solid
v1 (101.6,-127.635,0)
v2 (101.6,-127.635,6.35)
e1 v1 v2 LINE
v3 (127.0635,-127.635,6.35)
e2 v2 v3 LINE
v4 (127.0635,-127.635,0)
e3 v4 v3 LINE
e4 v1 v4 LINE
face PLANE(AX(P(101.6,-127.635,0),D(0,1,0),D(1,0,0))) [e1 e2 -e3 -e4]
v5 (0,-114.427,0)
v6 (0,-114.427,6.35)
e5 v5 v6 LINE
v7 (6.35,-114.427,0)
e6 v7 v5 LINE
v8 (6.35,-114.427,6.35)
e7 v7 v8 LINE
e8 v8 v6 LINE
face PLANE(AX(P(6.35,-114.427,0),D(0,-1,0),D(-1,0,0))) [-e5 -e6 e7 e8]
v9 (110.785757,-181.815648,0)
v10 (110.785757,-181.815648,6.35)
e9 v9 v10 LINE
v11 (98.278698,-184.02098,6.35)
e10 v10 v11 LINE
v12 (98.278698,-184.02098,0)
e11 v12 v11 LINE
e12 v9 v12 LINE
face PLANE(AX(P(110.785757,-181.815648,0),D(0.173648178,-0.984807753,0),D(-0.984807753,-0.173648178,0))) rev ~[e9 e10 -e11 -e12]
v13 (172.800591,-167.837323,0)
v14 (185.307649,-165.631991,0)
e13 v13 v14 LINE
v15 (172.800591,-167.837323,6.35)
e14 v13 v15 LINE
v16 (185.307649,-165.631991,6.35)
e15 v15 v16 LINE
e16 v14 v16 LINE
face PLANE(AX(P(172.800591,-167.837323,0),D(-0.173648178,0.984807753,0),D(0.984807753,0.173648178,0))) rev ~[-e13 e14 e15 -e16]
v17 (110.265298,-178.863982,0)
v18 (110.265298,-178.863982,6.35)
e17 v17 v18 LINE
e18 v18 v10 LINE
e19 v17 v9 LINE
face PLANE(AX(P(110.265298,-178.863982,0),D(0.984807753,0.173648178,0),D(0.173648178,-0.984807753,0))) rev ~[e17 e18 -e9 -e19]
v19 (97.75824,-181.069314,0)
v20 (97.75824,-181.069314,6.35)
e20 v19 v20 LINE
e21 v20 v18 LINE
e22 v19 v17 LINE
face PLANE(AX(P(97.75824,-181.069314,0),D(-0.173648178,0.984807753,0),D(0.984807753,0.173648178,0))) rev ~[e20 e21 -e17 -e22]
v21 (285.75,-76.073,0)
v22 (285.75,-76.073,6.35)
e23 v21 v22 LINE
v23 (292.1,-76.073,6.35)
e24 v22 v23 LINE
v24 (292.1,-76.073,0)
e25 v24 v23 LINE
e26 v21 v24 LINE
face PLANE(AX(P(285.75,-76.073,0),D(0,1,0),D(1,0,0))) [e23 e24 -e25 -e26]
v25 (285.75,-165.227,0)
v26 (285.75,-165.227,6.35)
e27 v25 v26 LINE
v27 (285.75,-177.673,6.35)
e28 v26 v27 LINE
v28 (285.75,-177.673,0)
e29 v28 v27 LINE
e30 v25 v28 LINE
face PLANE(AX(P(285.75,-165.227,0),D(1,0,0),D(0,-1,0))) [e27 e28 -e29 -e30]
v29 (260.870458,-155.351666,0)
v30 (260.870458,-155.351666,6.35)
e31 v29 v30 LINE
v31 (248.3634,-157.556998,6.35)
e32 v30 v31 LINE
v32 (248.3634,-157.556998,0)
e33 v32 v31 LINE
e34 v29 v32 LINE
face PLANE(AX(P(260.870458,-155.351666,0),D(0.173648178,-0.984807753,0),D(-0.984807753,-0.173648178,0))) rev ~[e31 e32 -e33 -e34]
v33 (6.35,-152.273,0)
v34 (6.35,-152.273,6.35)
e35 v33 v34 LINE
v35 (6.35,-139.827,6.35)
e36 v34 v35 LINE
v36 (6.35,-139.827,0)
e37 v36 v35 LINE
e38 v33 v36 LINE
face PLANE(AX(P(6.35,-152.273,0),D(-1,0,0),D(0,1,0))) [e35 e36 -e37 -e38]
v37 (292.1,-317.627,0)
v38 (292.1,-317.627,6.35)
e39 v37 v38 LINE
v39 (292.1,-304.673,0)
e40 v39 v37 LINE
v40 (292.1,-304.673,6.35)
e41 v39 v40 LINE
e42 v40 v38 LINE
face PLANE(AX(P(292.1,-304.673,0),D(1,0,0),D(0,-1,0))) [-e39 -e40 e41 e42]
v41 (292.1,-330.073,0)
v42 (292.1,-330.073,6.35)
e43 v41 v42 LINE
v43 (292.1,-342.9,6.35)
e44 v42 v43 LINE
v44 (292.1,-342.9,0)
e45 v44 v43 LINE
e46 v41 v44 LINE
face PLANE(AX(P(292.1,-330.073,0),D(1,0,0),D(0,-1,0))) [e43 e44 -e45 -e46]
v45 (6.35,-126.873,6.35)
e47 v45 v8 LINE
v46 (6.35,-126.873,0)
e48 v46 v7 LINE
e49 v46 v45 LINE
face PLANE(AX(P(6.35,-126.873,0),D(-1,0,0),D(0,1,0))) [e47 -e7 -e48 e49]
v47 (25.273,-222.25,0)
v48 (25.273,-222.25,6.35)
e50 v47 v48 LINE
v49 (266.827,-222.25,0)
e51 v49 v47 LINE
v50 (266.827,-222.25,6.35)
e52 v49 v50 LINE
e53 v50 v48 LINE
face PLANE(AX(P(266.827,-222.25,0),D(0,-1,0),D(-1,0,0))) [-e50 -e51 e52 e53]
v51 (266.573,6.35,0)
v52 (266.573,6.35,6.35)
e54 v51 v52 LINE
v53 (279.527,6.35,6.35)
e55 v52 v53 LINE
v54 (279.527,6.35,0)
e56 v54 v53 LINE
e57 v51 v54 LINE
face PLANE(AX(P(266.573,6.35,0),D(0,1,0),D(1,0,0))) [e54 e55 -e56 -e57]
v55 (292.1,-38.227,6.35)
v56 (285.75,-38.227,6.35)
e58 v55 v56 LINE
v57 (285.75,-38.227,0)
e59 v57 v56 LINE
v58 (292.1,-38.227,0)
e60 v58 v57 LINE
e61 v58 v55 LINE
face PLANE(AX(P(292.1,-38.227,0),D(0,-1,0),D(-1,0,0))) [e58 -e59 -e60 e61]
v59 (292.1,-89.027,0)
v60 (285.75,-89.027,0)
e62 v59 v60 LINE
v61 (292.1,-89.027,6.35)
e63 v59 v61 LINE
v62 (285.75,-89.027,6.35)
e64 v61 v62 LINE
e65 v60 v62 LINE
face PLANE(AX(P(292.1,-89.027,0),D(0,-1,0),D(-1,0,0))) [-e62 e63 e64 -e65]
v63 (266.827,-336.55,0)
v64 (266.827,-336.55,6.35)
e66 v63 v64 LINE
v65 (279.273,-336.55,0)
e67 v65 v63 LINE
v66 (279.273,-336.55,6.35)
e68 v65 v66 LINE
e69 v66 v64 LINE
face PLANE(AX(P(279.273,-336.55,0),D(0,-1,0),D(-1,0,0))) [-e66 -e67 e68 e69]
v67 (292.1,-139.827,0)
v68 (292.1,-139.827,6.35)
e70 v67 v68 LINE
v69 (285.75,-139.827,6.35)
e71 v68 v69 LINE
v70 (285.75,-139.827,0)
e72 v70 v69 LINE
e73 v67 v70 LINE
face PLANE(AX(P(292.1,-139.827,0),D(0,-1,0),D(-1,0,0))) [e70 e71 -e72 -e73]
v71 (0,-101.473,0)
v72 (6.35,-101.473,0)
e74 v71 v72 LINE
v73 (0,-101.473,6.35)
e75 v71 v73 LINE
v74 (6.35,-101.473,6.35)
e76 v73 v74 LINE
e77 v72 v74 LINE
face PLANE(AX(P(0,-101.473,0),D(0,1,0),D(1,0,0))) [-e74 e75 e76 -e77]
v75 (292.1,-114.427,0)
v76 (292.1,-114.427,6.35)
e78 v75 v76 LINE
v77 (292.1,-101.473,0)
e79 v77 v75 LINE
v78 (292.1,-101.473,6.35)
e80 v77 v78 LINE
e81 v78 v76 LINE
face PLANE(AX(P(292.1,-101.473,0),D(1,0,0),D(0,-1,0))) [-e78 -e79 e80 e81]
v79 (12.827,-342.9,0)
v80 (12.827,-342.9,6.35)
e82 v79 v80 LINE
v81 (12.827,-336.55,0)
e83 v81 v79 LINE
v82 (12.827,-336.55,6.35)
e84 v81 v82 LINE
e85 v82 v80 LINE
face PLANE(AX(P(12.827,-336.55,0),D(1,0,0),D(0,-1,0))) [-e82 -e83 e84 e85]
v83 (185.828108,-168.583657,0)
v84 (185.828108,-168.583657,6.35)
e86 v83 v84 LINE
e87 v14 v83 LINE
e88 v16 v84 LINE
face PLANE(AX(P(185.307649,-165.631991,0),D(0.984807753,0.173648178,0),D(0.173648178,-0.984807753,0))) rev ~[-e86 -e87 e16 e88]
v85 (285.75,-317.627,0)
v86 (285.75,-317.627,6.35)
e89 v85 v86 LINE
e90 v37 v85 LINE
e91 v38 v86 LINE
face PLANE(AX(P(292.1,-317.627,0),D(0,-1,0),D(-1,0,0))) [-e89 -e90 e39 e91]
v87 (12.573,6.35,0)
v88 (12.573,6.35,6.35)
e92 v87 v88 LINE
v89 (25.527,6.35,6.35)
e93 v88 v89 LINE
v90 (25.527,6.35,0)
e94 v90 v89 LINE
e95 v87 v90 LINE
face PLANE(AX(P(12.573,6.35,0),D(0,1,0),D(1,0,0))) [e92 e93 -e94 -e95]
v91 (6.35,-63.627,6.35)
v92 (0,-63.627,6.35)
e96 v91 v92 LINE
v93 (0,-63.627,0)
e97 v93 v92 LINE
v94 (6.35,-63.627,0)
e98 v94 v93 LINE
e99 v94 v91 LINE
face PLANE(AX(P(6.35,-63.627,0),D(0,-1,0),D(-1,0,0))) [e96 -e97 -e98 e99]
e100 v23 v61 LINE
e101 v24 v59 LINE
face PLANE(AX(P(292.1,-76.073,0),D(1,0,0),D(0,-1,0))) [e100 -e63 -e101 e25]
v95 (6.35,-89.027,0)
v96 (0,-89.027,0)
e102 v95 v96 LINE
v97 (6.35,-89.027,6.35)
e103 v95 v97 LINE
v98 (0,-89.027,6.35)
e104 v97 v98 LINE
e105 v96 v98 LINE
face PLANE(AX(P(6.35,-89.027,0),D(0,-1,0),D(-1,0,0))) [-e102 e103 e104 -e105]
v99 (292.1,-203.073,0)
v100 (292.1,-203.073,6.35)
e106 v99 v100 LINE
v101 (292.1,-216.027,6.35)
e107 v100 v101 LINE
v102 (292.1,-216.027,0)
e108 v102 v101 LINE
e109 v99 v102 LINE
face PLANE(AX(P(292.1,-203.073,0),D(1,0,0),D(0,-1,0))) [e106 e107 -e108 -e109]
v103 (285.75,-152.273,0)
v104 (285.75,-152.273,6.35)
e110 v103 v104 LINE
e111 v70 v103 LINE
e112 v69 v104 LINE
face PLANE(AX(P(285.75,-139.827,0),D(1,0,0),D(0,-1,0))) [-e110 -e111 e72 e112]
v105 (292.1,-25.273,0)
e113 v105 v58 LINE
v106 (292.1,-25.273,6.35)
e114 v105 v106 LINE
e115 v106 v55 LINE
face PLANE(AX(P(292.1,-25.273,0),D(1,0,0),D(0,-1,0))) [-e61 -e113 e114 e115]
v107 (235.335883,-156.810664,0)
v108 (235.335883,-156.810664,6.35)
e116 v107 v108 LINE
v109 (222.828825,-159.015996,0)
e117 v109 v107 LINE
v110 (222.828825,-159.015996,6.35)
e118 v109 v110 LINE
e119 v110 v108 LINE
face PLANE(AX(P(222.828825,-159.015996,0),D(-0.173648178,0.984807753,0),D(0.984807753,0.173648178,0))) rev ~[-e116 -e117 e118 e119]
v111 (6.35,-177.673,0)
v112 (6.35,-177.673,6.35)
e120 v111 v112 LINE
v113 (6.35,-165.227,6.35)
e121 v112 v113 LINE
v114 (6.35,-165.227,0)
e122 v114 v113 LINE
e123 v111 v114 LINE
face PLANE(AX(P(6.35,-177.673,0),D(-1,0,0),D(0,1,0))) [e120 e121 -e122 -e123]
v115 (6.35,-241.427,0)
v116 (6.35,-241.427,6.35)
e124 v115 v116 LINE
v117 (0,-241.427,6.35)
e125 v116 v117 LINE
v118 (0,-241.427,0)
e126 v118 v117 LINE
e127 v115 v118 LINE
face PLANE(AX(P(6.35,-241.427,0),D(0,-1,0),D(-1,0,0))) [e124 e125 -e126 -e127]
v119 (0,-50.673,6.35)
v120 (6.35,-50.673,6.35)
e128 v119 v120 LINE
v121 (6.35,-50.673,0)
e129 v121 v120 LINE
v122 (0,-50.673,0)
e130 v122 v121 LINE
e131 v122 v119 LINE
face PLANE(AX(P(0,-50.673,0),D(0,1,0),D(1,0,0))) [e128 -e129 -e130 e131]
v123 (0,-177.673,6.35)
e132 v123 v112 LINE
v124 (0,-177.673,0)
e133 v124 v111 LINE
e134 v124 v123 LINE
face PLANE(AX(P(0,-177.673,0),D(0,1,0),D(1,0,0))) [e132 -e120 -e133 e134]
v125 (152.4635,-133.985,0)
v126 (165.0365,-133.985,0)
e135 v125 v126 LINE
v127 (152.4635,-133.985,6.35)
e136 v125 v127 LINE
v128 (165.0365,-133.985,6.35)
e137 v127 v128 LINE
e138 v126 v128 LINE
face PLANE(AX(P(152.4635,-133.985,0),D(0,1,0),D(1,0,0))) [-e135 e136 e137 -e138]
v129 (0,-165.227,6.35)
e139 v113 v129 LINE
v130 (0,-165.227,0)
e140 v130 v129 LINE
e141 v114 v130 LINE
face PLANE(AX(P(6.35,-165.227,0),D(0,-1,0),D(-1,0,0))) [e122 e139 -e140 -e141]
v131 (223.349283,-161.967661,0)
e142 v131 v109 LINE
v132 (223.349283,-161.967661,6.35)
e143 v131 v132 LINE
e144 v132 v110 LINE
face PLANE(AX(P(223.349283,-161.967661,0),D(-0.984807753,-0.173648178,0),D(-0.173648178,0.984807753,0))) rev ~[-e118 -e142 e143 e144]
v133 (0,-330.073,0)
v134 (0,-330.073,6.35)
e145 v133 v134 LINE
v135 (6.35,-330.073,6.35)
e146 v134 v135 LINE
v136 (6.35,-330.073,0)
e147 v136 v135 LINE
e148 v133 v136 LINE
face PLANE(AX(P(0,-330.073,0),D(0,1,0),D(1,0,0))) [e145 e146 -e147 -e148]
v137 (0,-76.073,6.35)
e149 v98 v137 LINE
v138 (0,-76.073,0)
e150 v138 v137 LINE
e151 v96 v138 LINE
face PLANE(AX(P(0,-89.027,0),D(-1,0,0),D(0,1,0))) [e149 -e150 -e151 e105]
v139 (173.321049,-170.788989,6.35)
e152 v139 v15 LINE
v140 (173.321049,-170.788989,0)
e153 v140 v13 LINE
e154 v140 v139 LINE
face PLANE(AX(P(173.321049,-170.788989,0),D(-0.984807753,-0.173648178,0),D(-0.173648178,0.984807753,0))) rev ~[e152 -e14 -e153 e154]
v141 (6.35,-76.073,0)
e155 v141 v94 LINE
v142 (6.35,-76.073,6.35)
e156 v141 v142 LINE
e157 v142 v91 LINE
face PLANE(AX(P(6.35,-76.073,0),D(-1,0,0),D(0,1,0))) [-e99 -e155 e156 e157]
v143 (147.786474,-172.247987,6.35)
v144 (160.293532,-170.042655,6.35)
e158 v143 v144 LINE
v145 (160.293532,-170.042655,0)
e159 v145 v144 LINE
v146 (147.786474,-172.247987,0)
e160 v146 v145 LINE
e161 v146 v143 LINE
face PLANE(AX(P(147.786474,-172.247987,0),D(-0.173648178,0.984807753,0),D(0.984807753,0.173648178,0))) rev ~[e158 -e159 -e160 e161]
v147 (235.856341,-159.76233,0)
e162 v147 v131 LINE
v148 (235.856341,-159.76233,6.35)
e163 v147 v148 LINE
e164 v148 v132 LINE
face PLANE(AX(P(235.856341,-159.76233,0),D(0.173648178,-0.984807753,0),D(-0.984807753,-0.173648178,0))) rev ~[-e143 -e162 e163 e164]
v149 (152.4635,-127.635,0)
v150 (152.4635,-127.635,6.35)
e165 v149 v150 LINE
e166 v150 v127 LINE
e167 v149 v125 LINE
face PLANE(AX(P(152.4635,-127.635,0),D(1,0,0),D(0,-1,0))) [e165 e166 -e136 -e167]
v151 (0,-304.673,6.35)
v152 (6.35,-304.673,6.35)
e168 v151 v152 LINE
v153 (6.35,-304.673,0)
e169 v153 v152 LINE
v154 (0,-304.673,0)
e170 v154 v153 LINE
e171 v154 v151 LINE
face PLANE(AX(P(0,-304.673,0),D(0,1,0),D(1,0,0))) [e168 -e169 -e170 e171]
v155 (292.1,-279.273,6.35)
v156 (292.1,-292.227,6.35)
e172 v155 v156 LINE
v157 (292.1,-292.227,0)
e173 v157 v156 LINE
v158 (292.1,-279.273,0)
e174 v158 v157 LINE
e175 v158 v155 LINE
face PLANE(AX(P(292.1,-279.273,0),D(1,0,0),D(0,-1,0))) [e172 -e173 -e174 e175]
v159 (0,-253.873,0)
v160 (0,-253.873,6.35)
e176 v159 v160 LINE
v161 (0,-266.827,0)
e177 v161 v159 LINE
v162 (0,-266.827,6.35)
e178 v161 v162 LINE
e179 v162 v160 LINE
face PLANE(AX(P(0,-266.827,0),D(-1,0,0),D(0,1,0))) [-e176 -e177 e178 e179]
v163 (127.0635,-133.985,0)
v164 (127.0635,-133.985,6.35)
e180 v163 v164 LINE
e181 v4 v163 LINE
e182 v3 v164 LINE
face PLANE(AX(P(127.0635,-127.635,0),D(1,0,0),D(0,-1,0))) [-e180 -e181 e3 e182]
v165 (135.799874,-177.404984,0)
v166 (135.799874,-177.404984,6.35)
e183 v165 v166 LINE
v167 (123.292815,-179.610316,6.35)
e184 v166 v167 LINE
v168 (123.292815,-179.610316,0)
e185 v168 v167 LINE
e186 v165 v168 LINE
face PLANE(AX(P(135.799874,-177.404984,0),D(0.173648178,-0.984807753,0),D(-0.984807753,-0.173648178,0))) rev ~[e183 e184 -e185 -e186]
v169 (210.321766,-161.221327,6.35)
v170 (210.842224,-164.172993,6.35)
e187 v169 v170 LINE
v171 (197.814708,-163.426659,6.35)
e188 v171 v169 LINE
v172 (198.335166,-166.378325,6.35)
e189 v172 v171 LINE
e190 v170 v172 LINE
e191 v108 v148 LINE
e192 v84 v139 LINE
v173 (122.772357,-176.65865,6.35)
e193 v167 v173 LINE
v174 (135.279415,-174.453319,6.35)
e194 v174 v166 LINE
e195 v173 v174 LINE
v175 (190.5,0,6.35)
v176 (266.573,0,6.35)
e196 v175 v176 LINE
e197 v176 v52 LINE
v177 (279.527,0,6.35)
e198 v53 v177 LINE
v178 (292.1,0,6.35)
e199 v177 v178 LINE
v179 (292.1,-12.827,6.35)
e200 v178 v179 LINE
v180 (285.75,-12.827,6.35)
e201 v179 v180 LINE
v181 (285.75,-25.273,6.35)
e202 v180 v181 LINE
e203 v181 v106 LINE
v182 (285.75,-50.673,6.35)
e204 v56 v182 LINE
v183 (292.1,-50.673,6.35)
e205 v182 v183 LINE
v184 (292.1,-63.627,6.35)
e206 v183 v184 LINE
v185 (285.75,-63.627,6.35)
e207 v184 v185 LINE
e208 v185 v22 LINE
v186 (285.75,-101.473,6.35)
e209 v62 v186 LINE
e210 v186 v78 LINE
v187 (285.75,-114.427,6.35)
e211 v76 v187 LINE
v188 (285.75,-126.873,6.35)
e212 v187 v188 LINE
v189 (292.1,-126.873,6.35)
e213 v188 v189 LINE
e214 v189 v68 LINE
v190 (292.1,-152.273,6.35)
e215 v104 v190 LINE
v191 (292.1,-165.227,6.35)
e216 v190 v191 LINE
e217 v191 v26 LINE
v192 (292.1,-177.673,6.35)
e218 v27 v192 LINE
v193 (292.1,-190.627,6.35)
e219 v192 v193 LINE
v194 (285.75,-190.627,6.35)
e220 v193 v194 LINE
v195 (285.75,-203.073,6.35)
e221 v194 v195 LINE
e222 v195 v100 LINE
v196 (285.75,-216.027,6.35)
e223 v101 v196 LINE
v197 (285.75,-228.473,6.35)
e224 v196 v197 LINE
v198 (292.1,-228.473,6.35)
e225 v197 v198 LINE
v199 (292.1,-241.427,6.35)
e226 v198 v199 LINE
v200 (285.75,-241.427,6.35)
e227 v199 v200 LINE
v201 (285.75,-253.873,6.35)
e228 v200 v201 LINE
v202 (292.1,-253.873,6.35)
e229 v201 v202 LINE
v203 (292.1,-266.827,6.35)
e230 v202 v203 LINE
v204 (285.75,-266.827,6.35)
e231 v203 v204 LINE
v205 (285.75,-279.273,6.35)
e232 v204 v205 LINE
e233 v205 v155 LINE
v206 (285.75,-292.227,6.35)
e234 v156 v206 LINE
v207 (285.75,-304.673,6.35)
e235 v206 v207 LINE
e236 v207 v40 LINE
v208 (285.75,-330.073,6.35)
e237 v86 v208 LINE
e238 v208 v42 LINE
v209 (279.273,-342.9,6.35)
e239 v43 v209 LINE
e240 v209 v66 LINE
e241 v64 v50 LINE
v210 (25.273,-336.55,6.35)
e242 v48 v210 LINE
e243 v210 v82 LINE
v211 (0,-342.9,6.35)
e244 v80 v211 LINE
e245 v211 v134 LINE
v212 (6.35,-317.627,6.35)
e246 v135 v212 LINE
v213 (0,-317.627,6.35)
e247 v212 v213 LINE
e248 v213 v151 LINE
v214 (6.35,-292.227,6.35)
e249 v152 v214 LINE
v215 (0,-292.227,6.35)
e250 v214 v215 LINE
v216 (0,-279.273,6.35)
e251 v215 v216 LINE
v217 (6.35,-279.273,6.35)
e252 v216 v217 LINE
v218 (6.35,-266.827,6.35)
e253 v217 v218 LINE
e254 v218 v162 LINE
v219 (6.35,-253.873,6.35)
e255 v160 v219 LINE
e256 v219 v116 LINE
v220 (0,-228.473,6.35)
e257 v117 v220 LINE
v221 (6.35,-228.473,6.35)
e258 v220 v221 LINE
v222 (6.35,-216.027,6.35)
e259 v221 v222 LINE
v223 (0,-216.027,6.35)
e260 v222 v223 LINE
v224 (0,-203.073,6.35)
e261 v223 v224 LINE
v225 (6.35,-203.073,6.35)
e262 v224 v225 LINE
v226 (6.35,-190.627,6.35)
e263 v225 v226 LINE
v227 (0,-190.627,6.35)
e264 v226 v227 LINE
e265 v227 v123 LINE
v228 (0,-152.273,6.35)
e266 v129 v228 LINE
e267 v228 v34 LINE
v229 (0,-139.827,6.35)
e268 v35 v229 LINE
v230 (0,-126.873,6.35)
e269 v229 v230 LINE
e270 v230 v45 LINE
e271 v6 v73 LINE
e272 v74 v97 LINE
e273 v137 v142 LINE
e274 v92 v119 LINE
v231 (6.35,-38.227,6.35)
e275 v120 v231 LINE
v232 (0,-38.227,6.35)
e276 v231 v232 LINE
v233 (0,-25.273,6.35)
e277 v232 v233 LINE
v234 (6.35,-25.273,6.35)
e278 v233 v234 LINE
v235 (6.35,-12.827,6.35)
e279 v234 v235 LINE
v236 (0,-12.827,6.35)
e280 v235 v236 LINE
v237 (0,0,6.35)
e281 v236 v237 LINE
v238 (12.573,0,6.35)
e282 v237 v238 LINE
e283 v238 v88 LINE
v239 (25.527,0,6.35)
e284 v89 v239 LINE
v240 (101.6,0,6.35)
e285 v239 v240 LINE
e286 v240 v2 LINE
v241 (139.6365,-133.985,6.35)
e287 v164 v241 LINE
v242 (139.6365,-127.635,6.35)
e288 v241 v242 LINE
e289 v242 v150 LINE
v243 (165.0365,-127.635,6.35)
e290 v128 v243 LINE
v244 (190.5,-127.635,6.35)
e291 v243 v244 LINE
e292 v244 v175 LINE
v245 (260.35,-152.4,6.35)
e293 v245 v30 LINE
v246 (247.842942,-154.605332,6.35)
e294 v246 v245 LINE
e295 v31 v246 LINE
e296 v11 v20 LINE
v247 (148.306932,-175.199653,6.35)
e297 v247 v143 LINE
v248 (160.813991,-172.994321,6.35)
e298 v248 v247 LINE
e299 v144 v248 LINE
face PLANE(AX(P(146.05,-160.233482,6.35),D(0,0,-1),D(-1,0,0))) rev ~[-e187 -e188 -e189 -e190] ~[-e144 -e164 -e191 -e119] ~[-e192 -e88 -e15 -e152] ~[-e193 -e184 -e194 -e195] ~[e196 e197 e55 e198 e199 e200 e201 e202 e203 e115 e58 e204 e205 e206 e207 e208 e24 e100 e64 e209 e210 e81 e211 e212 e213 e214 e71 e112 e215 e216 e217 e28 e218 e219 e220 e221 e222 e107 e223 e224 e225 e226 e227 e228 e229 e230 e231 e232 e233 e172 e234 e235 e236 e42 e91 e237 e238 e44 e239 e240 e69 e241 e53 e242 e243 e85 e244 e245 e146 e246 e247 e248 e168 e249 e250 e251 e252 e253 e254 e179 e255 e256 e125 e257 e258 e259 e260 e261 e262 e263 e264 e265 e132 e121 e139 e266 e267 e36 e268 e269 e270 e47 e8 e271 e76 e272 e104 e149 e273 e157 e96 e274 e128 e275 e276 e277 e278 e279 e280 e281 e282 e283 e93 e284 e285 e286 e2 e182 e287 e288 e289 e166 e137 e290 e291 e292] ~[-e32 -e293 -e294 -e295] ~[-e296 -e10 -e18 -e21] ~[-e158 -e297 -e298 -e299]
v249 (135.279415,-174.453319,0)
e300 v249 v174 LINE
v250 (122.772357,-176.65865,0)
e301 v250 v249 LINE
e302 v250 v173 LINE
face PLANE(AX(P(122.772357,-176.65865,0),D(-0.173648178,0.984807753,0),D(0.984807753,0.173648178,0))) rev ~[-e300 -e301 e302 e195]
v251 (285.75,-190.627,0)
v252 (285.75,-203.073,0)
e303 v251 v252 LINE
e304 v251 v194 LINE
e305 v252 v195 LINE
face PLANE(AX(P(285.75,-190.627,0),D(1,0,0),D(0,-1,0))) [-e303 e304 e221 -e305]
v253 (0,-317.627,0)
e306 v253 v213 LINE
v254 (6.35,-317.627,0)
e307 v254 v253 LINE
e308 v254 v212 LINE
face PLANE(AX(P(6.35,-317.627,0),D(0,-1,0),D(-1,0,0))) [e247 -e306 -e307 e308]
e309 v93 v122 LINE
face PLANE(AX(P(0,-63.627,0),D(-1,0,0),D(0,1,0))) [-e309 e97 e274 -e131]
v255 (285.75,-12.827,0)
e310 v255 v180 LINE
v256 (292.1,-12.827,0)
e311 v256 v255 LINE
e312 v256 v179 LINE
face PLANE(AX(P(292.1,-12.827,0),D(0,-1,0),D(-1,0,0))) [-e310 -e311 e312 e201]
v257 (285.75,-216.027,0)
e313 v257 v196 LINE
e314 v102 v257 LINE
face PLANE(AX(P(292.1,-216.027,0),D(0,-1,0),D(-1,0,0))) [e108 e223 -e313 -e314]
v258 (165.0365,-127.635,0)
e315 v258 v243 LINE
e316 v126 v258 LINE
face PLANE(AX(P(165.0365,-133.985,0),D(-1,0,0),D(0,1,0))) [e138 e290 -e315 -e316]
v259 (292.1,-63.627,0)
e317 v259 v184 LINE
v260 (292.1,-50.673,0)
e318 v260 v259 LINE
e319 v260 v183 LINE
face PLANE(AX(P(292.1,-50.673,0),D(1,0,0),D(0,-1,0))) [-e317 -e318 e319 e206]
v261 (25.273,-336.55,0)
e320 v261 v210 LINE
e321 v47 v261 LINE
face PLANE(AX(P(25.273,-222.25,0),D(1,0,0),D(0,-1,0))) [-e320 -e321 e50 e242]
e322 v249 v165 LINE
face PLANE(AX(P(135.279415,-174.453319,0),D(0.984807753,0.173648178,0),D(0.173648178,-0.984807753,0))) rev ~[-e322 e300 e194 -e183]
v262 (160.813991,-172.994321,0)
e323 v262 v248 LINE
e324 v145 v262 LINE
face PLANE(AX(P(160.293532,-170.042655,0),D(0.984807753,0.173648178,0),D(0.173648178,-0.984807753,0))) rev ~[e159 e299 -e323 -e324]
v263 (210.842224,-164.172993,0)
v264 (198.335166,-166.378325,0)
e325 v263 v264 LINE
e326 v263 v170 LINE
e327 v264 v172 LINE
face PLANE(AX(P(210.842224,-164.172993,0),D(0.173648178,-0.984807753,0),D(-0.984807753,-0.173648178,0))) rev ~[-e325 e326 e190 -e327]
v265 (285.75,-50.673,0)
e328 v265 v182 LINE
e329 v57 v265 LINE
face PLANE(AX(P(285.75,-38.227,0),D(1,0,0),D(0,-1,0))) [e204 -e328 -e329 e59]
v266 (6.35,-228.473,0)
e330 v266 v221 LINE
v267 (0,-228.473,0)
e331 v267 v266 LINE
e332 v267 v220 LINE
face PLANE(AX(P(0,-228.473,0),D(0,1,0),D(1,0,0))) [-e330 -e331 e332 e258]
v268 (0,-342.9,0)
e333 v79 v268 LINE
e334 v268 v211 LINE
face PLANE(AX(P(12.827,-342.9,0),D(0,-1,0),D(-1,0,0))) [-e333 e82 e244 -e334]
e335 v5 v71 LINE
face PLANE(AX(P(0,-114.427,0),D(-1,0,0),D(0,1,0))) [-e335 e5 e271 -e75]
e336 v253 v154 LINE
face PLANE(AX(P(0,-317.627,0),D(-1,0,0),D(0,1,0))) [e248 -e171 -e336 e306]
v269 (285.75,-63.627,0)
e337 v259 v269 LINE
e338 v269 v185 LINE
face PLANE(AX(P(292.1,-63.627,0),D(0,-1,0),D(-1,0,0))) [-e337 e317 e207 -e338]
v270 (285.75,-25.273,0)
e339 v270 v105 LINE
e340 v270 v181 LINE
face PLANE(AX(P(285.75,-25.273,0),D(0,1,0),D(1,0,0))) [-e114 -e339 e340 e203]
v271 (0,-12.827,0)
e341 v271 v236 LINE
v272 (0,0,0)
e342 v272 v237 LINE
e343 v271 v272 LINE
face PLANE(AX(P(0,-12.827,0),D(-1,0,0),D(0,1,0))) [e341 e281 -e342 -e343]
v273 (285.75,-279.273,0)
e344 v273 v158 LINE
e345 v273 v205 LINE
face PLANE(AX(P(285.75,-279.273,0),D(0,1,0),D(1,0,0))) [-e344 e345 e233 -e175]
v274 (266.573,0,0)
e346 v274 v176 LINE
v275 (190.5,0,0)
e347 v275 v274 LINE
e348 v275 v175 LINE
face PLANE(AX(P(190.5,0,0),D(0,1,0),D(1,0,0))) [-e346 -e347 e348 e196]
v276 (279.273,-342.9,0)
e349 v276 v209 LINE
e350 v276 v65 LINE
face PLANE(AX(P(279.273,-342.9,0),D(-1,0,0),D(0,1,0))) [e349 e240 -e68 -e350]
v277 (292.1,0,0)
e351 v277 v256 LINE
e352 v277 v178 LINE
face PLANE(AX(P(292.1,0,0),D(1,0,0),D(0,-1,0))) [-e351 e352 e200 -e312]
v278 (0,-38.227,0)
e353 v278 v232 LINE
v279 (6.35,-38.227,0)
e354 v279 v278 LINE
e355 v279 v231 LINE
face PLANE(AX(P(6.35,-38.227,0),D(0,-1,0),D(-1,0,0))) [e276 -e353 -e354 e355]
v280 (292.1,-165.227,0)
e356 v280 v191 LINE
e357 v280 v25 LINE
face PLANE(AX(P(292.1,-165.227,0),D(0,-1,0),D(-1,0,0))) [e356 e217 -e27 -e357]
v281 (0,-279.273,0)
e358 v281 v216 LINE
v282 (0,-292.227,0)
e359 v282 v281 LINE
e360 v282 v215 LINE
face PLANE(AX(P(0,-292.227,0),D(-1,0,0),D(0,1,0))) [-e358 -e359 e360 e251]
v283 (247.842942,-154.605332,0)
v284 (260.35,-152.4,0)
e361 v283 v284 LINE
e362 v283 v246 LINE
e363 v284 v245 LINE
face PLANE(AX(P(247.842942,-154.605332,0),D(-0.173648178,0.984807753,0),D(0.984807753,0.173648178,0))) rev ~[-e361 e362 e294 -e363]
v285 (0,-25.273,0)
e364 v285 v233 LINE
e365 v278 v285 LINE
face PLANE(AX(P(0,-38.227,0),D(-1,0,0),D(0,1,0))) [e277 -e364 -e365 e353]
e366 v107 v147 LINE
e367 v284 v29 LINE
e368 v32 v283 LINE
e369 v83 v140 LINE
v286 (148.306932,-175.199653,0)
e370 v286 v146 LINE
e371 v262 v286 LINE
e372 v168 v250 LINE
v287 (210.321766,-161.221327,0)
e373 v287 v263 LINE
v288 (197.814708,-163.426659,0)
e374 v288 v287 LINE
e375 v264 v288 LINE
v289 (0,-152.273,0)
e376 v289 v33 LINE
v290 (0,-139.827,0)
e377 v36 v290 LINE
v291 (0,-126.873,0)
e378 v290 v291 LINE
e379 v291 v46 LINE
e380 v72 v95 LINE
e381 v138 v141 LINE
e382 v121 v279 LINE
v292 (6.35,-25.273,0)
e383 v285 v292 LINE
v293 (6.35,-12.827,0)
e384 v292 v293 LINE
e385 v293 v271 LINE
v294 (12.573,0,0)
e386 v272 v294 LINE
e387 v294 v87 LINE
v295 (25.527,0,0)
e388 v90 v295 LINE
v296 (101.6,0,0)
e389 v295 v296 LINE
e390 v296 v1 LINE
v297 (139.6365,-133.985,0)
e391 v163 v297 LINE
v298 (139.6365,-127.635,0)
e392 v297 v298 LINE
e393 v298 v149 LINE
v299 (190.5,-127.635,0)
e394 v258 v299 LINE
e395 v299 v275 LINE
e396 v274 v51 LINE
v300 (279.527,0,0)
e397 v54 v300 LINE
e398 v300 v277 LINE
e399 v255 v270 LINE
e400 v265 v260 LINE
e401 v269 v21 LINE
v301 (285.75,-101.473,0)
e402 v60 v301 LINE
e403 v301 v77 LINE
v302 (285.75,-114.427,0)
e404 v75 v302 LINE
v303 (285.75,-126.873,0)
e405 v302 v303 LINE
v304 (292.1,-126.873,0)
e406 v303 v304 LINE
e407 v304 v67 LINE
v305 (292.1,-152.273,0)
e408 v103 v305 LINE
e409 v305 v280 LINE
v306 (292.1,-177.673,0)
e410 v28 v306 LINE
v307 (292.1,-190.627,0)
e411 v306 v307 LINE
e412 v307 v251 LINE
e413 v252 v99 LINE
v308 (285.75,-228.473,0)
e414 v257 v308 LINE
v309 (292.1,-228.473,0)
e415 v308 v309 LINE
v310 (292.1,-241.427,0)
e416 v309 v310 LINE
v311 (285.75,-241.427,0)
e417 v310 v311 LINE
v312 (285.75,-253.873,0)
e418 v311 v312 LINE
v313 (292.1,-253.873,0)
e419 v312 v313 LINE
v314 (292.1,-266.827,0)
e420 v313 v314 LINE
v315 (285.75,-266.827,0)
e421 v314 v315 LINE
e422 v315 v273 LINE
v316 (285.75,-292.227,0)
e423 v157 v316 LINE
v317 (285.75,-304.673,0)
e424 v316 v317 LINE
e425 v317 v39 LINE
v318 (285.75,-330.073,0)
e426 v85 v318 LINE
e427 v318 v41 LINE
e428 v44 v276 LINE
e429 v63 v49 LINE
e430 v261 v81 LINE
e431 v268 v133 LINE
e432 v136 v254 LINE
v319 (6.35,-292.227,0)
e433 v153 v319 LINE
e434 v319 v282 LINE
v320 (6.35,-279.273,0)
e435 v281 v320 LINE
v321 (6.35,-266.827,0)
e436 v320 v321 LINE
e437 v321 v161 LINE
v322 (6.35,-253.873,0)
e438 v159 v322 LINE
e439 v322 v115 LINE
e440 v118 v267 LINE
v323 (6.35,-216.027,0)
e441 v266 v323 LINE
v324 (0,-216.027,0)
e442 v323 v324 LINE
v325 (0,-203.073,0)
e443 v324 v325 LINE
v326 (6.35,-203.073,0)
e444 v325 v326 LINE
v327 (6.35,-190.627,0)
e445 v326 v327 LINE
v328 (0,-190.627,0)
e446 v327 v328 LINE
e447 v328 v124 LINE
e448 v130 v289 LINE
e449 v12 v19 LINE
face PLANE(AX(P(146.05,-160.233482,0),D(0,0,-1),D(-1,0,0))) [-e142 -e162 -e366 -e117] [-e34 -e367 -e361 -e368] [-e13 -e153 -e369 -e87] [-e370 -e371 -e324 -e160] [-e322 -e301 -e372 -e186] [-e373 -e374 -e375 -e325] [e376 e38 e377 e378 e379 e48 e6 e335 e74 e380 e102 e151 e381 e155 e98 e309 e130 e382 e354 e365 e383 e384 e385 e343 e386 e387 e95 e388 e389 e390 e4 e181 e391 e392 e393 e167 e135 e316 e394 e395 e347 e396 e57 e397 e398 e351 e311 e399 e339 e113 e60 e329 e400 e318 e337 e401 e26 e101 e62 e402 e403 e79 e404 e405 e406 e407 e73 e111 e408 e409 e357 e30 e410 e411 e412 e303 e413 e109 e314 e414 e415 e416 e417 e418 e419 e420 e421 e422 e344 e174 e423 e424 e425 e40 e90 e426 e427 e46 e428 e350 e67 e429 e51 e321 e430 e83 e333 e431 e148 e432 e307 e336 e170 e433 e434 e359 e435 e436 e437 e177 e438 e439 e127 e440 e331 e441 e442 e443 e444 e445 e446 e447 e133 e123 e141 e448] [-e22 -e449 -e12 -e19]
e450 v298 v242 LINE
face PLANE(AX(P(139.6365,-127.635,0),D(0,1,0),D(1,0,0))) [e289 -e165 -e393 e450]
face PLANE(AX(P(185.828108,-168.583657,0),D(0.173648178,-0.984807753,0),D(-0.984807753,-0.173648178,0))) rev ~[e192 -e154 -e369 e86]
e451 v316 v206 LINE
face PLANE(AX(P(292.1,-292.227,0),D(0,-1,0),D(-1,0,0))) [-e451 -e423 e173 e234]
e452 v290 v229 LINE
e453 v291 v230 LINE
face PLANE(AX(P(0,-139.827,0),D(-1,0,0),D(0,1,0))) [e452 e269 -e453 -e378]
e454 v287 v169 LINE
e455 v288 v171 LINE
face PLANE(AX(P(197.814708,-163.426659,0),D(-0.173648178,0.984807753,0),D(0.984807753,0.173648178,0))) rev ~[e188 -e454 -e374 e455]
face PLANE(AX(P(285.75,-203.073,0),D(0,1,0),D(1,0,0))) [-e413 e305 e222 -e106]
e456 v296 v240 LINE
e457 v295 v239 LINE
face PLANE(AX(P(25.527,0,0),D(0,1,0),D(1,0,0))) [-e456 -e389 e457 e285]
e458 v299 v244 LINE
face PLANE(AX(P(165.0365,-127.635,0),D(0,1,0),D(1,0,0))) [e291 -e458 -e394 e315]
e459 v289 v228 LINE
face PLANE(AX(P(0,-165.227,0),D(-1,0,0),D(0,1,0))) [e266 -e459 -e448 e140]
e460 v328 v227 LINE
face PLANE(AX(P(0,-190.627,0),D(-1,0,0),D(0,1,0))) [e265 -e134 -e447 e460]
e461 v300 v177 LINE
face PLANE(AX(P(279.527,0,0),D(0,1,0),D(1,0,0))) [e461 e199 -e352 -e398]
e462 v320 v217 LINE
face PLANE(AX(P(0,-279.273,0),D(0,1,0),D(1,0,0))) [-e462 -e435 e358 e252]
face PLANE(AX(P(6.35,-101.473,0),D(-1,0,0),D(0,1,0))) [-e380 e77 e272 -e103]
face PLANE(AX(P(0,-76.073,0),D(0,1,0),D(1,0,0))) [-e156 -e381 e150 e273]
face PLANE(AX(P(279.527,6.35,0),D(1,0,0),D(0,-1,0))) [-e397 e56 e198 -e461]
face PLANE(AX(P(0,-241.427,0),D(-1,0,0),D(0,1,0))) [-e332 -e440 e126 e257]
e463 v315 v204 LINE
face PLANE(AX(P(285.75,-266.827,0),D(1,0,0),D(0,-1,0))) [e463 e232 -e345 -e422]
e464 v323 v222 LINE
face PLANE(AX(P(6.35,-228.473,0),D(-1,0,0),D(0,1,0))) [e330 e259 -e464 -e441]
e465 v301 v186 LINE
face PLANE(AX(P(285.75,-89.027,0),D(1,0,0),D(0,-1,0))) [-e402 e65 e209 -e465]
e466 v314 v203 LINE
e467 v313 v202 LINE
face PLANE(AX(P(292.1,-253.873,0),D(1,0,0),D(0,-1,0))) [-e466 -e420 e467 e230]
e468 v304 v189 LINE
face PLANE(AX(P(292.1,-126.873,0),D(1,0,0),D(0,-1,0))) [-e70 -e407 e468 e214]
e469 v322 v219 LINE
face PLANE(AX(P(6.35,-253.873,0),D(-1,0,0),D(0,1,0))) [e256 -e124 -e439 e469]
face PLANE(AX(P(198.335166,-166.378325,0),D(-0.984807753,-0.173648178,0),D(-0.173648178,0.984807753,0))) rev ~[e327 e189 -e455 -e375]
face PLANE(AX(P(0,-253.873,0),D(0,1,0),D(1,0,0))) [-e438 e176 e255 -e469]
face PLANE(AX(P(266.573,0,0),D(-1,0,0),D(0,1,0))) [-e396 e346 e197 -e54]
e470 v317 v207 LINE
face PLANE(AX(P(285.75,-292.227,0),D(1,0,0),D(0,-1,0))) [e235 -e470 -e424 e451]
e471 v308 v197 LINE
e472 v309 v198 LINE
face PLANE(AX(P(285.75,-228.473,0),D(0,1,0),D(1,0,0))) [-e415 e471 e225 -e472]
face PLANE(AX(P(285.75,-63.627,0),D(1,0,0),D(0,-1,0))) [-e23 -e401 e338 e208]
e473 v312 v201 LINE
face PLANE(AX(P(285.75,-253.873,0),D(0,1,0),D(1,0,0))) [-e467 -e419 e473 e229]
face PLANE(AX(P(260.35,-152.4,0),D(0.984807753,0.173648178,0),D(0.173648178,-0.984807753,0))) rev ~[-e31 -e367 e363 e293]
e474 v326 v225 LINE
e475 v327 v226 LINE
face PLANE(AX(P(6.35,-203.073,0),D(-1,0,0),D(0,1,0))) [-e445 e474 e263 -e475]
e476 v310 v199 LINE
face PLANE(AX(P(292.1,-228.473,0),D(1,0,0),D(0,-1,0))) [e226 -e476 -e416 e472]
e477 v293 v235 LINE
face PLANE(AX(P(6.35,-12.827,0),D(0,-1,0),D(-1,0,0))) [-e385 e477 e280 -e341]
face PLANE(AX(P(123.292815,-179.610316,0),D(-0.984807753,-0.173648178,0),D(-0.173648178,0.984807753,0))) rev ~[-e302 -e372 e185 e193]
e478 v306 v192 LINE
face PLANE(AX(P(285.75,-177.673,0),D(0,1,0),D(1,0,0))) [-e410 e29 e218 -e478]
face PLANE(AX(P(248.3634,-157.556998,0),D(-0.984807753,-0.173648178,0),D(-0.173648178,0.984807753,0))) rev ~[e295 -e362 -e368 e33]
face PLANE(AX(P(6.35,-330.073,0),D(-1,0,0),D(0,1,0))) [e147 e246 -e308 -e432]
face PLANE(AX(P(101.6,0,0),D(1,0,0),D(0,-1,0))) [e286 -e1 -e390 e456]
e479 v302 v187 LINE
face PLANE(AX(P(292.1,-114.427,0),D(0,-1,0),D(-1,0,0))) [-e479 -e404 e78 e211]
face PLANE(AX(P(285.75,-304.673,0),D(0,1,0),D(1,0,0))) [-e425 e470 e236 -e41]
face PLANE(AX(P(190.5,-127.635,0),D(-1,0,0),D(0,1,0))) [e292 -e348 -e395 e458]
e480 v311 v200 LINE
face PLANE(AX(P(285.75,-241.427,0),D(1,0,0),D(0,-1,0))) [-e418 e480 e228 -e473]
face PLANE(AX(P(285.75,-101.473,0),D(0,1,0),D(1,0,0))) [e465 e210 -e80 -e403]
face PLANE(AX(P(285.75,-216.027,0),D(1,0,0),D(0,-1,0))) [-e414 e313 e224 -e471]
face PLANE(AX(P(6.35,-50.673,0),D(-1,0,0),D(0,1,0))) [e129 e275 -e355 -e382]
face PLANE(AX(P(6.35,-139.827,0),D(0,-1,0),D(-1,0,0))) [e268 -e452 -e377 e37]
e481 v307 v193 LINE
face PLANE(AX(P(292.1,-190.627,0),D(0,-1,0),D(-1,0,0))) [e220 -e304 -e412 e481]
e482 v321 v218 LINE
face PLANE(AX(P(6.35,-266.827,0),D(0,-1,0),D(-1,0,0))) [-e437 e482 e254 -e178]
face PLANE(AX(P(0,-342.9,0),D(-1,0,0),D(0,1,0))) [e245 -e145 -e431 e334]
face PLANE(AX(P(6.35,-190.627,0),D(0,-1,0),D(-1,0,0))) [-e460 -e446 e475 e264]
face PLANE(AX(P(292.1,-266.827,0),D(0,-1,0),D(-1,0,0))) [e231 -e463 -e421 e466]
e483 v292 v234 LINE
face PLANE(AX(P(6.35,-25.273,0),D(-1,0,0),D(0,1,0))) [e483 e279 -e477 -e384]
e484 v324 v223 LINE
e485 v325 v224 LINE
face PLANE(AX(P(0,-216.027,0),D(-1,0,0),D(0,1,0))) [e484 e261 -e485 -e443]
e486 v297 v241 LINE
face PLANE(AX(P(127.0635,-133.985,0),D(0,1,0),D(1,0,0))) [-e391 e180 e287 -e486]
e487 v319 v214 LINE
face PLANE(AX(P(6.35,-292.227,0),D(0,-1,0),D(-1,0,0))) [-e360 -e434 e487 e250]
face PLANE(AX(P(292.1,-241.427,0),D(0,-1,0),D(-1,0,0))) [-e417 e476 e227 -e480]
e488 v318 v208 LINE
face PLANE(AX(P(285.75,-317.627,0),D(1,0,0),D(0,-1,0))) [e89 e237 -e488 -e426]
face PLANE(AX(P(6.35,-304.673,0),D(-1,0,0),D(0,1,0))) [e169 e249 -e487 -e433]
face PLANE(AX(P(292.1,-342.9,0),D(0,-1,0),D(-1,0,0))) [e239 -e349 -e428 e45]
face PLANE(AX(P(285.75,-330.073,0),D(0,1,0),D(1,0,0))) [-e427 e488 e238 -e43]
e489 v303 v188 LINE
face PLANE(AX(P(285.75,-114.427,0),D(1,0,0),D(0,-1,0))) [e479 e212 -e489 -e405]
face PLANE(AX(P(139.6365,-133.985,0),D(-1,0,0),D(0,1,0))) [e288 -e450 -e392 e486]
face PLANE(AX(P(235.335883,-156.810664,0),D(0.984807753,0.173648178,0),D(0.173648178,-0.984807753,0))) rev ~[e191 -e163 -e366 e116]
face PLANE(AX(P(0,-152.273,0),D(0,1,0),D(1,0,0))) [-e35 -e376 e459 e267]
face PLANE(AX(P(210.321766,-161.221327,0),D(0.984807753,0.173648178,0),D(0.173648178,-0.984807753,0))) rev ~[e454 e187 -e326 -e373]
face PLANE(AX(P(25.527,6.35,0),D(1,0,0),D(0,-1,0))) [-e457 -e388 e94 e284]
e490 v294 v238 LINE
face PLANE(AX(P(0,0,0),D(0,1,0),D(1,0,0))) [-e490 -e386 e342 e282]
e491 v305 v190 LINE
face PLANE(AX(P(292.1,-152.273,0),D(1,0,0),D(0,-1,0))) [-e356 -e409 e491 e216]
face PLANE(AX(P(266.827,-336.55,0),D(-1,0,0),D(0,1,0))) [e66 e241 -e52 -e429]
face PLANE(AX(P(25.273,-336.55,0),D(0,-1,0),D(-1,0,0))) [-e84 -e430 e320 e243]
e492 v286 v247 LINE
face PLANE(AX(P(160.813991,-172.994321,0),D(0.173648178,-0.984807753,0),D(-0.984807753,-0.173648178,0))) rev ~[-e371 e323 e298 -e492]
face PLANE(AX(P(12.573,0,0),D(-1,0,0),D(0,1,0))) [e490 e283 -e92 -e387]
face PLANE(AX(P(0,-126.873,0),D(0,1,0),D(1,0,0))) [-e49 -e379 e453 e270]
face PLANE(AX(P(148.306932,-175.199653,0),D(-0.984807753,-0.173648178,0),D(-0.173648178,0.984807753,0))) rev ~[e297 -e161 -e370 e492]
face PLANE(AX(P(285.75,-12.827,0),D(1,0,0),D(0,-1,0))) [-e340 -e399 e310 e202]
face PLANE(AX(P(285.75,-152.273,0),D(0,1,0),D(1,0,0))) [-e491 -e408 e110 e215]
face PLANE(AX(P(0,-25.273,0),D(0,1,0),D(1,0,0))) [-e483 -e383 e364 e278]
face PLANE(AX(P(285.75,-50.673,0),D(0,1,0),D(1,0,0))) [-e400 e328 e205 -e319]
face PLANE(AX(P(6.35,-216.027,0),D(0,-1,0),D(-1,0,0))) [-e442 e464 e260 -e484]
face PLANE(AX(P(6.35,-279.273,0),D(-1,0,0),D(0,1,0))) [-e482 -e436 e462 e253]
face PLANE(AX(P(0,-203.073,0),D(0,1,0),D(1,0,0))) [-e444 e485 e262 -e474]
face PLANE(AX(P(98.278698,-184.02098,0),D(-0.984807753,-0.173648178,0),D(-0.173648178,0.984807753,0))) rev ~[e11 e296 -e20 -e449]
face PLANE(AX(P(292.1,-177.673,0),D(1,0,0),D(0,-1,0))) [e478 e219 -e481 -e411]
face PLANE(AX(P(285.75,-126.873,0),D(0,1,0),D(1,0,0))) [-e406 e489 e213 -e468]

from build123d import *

# Parameters (mm, degrees)
BOSS_EXTRUDE1_DEPTH = 6.35


with BuildPart() as part:
    # Sketch1 → Boss-Extrude1 (new body)
    with BuildSketch(Plane.XY):
        Polygon((0, 0), (12.573, 0), (12.573, 6.35), (25.527, 6.35), (25.527, 0), (101.6, 0), (101.6, -127.635), (127.0635, -127.635), (127.0635, -133.985), (139.6365, -133.985), (139.6365, -127.635), (152.4635, -127.635), (152.4635, -133.985), (165.0365, -133.985), (165.0365, -127.635), (190.5, -127.635), (190.5, 0), (266.573, 0), (266.573, 6.35), (279.527, 6.35), (279.527, 0), (292.1, 0), (292.1, -12.827), (285.75, -12.827), (285.75, -25.273), (292.1, -25.273), (292.1, -38.227), (285.75, -38.227), (285.75, -50.673), (292.1, -50.673), (292.1, -63.627), (285.75, -63.627), (285.75, -76.073), (292.1, -76.073), (292.1, -89.027), (285.75, -89.027), (285.75, -101.473), (292.1, -101.473), (292.1, -114.427), (285.75, -114.427), (285.75, -126.873), (292.1, -126.873), (292.1, -139.827), (285.75, -139.827), (285.75, -152.273), (292.1, -152.273), (292.1, -165.227), (285.75, -165.227), (285.75, -177.673), (292.1, -177.673), (292.1, -190.627), (285.75, -190.627), (285.75, -203.073), (292.1, -203.073), (292.1, -216.027), (285.75, -216.027), (285.75, -228.473), (292.1, -228.473), (292.1, -241.427), (285.75, -241.427), (285.75, -253.873), (292.1, -253.873), (292.1, -266.827), (285.75, -266.827), (285.75, -279.273), (292.1, -279.273), (292.1, -292.227), (285.75, -292.227), (285.75, -304.673), (292.1, -304.673), (292.1, -317.627), (285.75, -317.627), (285.75, -330.073), (292.1, -330.073), (292.1, -342.9), (279.273, -342.9), (279.273, -336.55), (266.827, -336.55), (266.827, -222.25), (25.273, -222.25), (25.273, -336.55), (12.827, -336.55), (12.827, -342.9), (0, -342.9), (0, -330.073), (6.35, -330.073), (6.35, -317.627), (0, -317.627), (0, -304.673), (6.35, -304.673), (6.35, -292.227), (0, -292.227), (0, -279.273), (6.35, -279.273), (6.35, -266.827), (0, -266.827), (0, -253.873), (6.35, -253.873), (6.35, -241.427), (0, -241.427), (0, -228.473), (6.35, -228.473), (6.35, -216.027), (0, -216.027), (0, -203.073), (6.35, -203.073), (6.35, -190.627), (0, -190.627), (0, -177.673), (6.35, -177.673), (6.35, -165.227), (0, -165.227), (0, -152.273), (6.35, -152.273), (6.35, -139.827), (0, -139.827), (0, -126.873), (6.35, -126.873), (6.35, -114.427), (0, -114.427), (0, -101.473), (6.35, -101.473), (6.35, -89.027), (0, -89.027), (0, -76.073), (6.35, -76.073), (6.35, -63.627), (0, -63.627), (0, -50.673), (6.35, -50.673), (6.35, -38.227), (0, -38.227), (0, -25.273), (6.35, -25.273), (6.35, -12.827), (0, -12.827), align=None)
        Polygon((260.870458318, -155.351665797), (248.363399855, -157.556997654), (247.842941537, -154.605331856), (260.35, -152.4), align=None, mode=Mode.SUBTRACT)
        Polygon((235.856341392, -159.76232951), (223.349282928, -161.967661366), (222.82882461, -159.015995569), (235.335883073, -156.810663713), align=None, mode=Mode.SUBTRACT)
        Polygon((210.842224465, -164.172993223), (198.335166002, -166.378325079), (197.814707684, -163.426659282), (210.321766147, -161.221327425), align=None, mode=Mode.SUBTRACT)
        Polygon((185.828107539, -168.583656936), (173.321049075, -170.788988792), (172.800590757, -167.837322995), (185.30764922, -165.631991138), align=None, mode=Mode.SUBTRACT)
        Polygon((160.813990612, -172.994320648), (148.306932149, -175.199652505), (147.786473831, -172.247986707), (160.293532294, -170.042654851), align=None, mode=Mode.SUBTRACT)
        Polygon((135.799873686, -177.404984361), (123.292815222, -179.610316217), (122.772356904, -176.65865042), (135.279415367, -174.453318564), align=None, mode=Mode.SUBTRACT)
        Polygon((110.785756759, -181.815648074), (98.278698296, -184.02097993), (97.758239978, -181.069314133), (110.265298441, -178.863982276), align=None, mode=Mode.SUBTRACT)
    extrude(amount=BOSS_EXTRUDE1_DEPTH)


solid = part.part
